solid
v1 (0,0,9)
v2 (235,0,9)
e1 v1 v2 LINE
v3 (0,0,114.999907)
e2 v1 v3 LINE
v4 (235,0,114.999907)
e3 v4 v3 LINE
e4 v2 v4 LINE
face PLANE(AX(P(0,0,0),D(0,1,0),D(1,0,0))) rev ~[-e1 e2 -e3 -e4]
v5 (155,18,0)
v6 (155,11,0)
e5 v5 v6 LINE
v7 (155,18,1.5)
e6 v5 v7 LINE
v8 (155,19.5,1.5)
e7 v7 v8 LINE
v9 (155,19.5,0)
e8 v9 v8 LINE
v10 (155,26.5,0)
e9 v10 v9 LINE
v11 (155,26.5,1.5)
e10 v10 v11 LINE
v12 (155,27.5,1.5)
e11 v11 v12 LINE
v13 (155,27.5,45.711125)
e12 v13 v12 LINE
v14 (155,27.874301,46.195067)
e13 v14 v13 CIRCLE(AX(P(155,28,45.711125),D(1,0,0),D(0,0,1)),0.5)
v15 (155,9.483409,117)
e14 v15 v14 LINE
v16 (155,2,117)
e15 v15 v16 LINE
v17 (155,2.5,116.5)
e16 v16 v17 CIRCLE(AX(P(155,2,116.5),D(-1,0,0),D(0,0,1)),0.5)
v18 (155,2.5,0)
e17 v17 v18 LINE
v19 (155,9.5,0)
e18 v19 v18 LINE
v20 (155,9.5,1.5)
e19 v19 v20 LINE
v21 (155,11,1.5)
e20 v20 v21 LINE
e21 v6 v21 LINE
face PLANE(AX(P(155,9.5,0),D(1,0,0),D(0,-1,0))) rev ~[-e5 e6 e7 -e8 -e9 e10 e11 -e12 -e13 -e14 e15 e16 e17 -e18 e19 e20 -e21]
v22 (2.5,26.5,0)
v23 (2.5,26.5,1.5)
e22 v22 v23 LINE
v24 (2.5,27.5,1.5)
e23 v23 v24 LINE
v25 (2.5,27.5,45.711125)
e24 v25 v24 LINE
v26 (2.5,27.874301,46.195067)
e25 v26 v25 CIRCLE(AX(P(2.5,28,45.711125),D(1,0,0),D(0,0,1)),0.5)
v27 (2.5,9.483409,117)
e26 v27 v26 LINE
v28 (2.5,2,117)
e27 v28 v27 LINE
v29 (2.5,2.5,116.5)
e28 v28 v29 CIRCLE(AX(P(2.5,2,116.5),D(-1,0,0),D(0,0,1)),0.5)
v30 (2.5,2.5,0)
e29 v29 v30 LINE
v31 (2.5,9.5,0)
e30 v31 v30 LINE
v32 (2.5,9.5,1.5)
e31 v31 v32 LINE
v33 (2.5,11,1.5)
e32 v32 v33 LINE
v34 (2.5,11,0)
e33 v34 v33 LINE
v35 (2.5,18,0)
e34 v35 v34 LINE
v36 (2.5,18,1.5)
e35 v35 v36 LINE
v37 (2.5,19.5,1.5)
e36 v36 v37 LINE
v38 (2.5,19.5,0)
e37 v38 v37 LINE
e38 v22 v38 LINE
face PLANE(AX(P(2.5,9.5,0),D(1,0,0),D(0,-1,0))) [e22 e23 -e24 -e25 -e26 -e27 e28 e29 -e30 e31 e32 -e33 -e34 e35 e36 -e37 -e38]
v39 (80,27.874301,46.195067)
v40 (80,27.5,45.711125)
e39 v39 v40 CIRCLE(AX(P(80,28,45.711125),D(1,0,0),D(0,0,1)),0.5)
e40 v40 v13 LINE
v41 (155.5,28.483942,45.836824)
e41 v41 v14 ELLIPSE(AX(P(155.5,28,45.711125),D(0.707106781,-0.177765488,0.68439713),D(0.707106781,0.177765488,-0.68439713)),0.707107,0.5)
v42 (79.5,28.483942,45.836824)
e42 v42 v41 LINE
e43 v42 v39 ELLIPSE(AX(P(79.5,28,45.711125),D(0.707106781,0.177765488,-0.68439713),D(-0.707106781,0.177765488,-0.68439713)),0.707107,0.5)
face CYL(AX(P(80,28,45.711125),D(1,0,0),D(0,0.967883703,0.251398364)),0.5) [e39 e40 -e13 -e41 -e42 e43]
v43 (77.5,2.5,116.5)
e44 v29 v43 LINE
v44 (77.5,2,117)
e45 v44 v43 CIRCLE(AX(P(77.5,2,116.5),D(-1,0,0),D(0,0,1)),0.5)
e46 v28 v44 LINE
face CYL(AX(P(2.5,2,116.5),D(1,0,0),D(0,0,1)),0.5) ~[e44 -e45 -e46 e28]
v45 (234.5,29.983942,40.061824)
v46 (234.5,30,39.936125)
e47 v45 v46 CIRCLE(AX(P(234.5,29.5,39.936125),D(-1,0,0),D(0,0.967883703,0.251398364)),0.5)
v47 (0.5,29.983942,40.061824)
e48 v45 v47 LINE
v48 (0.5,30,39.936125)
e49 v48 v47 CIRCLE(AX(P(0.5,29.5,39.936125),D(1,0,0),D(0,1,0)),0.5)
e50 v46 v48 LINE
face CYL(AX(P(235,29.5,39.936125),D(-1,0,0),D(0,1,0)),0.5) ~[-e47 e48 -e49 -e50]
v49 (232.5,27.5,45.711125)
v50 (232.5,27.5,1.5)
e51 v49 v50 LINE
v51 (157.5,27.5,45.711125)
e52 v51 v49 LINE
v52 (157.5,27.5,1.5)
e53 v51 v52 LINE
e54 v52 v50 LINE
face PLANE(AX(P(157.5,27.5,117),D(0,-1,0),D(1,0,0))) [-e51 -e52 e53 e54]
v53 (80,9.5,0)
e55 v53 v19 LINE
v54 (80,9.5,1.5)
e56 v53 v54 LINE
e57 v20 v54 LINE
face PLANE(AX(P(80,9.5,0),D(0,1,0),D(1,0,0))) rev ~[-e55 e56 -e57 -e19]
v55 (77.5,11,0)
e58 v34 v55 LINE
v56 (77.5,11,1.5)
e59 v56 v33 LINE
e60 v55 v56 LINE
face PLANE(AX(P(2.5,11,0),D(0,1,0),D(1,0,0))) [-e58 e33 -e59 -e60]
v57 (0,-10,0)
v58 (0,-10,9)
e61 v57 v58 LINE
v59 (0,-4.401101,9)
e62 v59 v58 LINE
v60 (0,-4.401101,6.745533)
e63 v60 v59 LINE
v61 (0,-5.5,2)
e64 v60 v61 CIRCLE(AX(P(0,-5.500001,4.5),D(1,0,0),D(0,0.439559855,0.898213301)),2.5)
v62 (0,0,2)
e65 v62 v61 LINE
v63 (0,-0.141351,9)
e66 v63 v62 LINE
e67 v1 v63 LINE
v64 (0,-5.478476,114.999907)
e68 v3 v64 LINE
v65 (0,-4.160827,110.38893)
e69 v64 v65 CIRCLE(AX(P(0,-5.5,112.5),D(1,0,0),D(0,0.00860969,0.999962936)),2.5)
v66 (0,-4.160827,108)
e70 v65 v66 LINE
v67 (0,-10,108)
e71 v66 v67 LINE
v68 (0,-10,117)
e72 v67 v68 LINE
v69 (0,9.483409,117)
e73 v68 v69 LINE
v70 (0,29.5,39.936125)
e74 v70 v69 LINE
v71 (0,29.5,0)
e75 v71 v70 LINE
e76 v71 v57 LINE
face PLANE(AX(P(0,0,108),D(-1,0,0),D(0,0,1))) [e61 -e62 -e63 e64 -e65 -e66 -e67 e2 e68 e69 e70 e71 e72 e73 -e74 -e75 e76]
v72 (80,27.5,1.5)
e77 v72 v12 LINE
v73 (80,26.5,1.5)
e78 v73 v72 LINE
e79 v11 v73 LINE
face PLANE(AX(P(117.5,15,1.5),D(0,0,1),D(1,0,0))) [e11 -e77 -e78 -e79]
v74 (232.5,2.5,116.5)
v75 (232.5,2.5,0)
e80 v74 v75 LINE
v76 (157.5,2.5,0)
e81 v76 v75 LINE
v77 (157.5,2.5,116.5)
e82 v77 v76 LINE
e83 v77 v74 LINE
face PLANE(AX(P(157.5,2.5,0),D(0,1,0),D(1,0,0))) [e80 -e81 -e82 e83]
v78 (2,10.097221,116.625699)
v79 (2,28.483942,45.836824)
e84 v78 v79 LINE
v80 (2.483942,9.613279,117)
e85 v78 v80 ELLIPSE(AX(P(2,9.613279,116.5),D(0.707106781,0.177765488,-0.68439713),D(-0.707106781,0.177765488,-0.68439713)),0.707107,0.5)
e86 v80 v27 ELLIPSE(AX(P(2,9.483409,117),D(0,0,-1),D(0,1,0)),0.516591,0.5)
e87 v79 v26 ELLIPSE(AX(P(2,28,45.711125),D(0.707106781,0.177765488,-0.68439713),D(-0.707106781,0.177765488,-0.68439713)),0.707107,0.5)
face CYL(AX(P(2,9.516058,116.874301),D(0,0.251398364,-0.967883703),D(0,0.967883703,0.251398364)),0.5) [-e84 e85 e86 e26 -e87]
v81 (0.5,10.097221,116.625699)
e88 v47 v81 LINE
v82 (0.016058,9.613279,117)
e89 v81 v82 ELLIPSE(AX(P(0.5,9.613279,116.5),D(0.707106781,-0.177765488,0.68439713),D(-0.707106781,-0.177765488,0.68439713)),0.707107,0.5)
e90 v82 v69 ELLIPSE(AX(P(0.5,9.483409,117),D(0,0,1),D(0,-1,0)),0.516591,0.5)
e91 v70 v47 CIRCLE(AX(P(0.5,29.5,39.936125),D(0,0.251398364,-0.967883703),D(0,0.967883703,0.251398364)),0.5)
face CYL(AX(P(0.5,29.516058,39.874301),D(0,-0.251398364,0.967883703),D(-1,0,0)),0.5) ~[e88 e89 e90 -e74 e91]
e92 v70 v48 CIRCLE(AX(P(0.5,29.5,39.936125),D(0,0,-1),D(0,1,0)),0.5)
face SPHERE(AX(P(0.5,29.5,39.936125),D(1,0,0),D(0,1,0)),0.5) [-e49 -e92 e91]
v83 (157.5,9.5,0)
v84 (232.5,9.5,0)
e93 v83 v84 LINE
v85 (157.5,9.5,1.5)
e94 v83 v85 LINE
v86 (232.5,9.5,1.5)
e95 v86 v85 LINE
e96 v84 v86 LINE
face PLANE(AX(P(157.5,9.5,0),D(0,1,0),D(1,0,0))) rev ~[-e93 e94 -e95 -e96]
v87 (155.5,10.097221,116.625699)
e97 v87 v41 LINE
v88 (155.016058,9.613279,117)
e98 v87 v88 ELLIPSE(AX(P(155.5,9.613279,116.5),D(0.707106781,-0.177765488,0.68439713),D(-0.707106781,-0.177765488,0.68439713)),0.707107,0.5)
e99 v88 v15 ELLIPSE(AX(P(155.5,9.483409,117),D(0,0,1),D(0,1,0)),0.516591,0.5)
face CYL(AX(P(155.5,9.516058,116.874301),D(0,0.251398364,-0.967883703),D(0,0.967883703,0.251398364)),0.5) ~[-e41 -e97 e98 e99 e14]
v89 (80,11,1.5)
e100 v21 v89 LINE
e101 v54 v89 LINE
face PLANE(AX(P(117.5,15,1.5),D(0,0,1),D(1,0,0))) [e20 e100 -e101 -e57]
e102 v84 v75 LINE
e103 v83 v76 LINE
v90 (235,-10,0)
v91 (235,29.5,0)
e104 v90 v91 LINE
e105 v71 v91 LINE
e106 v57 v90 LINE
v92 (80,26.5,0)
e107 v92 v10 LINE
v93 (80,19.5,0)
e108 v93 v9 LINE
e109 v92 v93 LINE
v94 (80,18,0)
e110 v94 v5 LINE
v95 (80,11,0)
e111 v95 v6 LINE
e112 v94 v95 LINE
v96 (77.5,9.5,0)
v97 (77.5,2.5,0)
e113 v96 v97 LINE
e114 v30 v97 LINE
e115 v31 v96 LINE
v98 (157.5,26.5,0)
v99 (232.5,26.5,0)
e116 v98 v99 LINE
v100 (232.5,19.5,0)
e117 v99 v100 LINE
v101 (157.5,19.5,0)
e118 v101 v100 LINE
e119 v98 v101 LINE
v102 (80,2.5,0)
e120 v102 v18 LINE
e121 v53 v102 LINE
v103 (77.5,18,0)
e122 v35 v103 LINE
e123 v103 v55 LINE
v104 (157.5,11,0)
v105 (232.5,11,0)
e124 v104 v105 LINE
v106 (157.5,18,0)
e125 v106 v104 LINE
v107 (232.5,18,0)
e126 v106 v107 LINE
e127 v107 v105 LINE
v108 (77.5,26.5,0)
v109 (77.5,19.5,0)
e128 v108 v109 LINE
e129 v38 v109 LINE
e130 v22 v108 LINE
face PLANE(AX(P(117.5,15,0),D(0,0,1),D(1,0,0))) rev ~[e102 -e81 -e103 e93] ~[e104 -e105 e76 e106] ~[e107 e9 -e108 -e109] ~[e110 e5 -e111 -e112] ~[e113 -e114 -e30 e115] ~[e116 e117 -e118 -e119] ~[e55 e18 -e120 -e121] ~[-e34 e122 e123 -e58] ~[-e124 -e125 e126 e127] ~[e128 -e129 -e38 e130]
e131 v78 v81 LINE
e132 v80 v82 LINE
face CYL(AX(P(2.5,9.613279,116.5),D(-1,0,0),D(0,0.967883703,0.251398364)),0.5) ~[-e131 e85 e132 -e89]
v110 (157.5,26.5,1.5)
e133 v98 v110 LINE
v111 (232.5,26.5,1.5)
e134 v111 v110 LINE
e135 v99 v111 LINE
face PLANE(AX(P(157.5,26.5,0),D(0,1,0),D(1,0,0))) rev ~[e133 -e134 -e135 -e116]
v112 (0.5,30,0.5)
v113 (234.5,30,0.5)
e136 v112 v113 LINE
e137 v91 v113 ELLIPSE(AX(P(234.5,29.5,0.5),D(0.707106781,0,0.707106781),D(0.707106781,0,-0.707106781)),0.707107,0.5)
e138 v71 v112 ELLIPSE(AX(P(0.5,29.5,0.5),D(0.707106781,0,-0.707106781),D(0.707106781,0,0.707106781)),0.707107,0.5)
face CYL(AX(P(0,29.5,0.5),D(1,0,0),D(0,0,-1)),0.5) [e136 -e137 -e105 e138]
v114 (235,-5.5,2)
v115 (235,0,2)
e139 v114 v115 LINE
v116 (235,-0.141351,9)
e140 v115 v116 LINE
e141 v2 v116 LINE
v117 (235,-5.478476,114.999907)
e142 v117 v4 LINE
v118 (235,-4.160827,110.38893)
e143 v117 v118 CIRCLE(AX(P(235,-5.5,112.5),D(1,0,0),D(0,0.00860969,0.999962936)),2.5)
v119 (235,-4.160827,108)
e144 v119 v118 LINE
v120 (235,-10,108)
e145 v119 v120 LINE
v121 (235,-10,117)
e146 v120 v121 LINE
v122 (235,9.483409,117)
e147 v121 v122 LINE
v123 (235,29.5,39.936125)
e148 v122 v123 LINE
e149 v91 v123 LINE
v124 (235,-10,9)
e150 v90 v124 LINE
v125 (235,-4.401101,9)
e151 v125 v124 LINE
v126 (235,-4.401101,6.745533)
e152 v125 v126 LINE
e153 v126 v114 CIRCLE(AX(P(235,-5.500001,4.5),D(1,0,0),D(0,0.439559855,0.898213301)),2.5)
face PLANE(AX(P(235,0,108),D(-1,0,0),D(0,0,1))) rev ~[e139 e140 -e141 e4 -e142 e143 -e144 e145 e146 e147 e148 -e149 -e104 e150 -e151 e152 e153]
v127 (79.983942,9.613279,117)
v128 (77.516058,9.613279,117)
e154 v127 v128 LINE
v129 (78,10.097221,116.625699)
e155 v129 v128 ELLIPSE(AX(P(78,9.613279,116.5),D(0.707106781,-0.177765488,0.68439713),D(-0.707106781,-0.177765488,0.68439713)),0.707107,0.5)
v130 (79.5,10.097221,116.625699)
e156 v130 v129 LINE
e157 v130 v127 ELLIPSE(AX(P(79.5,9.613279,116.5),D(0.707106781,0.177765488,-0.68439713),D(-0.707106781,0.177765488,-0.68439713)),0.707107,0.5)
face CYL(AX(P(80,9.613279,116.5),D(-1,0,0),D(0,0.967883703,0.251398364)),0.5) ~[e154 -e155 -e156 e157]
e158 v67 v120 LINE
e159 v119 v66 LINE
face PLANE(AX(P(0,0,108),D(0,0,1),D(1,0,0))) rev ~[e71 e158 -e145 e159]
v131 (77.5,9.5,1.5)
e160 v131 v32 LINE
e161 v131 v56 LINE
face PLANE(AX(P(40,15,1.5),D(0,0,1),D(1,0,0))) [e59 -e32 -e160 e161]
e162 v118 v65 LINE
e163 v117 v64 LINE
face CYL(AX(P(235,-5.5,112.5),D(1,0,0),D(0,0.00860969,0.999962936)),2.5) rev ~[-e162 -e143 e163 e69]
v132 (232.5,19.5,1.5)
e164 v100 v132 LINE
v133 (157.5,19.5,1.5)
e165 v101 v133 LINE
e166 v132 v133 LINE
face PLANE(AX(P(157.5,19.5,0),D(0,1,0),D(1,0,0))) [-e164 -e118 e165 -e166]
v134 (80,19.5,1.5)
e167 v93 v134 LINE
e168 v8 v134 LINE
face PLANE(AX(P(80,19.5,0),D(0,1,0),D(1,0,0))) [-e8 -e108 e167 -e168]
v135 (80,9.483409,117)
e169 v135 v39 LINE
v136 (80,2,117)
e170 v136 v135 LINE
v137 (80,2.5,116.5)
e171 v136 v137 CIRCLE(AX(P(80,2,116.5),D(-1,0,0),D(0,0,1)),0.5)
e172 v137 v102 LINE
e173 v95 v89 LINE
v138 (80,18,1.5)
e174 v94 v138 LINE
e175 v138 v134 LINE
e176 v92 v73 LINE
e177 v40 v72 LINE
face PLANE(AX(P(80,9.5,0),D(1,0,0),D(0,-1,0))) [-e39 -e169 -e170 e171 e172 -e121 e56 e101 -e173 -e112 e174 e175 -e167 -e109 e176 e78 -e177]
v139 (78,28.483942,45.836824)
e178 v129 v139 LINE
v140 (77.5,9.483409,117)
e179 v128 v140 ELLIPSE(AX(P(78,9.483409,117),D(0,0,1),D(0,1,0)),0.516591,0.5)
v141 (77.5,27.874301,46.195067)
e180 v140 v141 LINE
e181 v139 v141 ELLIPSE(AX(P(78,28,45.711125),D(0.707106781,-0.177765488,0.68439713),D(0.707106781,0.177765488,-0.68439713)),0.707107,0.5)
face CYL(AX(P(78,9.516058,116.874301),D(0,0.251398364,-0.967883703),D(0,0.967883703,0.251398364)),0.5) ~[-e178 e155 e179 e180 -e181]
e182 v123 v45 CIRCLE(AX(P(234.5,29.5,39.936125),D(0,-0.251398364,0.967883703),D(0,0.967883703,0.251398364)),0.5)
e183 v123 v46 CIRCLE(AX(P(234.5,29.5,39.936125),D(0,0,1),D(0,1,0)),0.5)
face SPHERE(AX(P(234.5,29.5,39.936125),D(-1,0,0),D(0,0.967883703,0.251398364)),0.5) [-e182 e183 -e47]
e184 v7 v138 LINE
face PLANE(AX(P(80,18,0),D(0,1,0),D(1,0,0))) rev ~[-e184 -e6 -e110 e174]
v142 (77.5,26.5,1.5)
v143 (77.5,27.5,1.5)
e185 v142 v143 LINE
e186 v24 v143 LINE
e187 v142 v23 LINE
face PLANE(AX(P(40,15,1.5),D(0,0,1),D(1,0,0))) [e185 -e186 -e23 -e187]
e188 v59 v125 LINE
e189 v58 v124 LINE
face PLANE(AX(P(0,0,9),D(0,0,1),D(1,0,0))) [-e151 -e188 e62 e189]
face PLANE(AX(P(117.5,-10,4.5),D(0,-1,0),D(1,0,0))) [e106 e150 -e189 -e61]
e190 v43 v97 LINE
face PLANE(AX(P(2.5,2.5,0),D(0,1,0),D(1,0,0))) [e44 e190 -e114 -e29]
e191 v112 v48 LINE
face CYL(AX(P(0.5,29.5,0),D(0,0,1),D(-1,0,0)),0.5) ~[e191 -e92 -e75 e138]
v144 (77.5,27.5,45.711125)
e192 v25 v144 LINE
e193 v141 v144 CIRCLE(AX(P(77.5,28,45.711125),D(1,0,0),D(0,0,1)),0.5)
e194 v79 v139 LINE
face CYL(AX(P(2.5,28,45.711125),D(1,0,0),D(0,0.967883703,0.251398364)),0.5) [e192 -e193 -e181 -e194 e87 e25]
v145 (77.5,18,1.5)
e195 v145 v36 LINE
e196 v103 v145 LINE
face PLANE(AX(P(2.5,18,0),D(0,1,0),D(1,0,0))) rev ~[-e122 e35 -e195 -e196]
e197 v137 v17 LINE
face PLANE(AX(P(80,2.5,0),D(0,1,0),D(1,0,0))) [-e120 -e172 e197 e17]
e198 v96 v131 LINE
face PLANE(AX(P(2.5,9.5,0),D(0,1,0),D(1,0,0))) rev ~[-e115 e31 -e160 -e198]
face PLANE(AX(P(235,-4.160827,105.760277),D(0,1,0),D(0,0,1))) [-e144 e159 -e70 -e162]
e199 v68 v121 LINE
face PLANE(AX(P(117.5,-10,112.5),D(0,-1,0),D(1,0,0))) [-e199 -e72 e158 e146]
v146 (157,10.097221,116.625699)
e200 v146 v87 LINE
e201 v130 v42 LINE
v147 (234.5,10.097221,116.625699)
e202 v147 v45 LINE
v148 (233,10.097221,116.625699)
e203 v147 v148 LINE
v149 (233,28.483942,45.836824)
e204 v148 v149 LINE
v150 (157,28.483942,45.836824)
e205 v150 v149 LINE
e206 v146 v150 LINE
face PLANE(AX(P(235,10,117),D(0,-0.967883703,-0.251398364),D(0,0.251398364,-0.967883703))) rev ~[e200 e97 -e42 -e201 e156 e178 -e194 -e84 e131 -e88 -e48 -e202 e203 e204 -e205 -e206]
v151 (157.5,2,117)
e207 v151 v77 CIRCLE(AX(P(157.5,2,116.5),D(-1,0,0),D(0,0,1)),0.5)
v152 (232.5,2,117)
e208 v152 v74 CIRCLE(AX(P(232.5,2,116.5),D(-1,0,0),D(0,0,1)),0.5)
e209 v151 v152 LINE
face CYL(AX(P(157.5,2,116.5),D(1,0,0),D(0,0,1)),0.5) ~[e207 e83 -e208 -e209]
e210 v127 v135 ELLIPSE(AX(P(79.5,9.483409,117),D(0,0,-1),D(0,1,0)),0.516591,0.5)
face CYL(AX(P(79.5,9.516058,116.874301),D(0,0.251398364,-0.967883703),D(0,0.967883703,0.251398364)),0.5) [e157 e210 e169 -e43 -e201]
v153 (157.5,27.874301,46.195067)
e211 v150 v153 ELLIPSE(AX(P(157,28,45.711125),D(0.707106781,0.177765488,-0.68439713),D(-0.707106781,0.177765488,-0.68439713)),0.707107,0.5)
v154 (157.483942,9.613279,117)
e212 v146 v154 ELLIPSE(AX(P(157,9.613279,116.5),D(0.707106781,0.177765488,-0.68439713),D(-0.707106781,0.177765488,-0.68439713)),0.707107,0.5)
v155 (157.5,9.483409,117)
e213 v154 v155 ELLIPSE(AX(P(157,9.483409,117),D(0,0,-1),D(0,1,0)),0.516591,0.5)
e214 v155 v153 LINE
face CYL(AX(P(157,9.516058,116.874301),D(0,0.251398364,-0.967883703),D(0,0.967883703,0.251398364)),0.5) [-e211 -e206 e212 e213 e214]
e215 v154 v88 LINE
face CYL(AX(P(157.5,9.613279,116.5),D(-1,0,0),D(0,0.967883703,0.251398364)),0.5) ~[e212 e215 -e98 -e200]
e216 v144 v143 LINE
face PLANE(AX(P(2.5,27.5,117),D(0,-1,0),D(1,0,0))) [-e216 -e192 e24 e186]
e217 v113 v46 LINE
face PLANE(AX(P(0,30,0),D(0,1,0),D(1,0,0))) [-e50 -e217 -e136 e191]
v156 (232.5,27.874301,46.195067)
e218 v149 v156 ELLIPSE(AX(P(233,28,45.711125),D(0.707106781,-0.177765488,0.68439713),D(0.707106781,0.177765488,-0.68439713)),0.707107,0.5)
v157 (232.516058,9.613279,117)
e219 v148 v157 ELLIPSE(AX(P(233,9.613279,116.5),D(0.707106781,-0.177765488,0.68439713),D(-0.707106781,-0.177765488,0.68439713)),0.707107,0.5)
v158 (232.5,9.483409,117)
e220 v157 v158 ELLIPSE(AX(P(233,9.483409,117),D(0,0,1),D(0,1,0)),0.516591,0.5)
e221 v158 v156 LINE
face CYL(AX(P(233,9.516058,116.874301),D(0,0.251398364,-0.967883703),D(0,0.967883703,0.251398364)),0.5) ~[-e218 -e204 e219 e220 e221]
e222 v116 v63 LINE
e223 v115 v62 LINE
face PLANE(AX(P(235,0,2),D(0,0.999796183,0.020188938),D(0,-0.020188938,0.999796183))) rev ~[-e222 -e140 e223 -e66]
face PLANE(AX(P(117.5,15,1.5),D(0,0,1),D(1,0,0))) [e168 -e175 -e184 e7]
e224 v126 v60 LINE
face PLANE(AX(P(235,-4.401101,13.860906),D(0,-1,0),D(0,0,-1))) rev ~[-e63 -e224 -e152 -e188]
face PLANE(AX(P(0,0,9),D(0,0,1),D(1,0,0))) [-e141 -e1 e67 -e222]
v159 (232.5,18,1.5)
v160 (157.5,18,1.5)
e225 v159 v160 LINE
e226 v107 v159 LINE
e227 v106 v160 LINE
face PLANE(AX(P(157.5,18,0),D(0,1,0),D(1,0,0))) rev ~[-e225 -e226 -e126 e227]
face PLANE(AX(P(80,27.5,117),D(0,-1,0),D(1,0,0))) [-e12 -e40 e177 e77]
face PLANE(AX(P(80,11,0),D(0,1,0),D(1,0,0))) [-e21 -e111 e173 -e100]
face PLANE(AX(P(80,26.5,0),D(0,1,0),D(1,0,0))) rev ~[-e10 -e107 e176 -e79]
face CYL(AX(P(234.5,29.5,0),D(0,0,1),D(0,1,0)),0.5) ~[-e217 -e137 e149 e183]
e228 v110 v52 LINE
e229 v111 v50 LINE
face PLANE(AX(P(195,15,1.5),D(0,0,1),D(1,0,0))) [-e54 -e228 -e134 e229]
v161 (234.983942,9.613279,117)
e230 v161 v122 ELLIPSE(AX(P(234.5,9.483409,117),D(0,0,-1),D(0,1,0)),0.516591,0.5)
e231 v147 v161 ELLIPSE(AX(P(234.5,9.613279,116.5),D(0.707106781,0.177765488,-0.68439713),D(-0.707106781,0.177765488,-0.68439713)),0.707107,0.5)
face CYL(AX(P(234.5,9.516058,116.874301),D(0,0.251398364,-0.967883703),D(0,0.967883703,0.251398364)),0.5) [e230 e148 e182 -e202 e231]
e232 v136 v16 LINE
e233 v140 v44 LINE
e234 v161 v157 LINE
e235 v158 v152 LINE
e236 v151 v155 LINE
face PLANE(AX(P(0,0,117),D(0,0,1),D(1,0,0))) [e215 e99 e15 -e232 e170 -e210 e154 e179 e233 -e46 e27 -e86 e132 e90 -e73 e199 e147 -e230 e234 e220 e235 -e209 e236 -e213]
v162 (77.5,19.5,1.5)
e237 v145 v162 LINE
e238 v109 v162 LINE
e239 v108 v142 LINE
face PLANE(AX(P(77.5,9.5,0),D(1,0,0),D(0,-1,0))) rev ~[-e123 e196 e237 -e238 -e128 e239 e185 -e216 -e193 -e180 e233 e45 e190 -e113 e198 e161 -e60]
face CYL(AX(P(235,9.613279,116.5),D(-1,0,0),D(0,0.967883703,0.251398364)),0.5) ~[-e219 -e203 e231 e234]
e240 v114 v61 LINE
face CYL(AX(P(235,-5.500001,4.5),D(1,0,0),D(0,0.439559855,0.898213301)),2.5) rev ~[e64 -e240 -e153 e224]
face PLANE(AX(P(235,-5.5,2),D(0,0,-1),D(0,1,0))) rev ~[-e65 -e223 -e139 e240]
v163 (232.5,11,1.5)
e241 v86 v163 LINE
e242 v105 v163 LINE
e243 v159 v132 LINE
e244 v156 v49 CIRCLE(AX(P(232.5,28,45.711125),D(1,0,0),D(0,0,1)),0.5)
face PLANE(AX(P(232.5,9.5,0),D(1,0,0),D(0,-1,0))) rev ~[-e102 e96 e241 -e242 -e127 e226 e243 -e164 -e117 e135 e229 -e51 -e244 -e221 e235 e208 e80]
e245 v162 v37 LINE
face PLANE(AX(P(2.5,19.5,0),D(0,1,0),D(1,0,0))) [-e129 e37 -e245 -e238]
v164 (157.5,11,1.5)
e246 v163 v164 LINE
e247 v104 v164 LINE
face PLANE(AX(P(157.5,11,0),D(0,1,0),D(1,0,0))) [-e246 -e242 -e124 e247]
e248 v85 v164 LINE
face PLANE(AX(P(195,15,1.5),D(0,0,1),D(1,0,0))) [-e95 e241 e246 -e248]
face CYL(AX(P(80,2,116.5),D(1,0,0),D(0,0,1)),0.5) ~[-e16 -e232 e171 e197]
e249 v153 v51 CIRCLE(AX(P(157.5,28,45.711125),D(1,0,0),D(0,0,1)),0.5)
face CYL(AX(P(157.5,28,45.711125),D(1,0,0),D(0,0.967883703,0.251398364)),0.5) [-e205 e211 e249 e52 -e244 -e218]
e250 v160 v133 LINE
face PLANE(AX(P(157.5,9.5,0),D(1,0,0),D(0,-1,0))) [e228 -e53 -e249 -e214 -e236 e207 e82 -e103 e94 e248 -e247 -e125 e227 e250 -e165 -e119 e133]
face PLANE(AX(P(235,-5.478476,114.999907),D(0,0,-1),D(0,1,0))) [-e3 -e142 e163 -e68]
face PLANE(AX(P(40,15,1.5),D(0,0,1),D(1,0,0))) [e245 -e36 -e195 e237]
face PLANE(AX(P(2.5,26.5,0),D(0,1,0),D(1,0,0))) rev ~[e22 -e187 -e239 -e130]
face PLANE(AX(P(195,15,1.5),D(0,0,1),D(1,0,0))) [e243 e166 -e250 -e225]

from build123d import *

# Parameters (mm, degrees)
BOX_W                              = 235
BOX_H                              = 30
BOX_DEPTH                          = 117
SKETCH_W                           = 75
SKETCH_H                           = 25
POCKET_DEPTH                       = 115.5
POCKET001_DEPTH                    = 300
SKETCH002_W                        = 75
SKETCH002_H                        = 7
POCKET002_DEPTH                    = 5
SKETCH002_LINEARPATTERN001_2_W     = 75
SKETCH002_LINEARPATTERN001_2_H     = 7
POCKET002_LINEARPATTERN001_2_DEPTH = 5
SKETCH002_LINEARPATTERN001_3_W     = 75
SKETCH002_LINEARPATTERN001_3_H     = 7
POCKET002_LINEARPATTERN001_3_DEPTH = 5
LINEARPATTERN002_COUNT             = 3
LINEARPATTERN002_PITCH             = 8.5
FILLET_R                           = 0.5
SKETCH003_W                        = 235
SKETCH003_H                        = 9
PAD_DEPTH                          = 10
POCKET003_DEPTH                    = 235.001


with BuildPart() as part:
    # Box → Box (new body)
    with BuildSketch(Plane.XY):
        with Locations((117.5, 15)):
            Rectangle(BOX_W, BOX_H)
    extrude(amount=BOX_DEPTH)

    # Sketch (on Face6 of BaseFeature) → Pocket (cut)
    with BuildSketch(Plane.XY.offset(117)):
        with Locations((40, 15)):
            Rectangle(SKETCH_W, SKETCH_H)
        with Locations((117.5, 15)):
            Rectangle(SKETCH_W, SKETCH_H)
        with Locations((195, 15)):
            Rectangle(SKETCH_W, SKETCH_H)
    extrude(amount=-POCKET_DEPTH, mode=Mode.SUBTRACT)

    # Sketch001 (on Face6 of Pocket) → Pocket001 (cut)
    with BuildSketch(Plane.YZ.offset(235)):
        Polygon((10, 117), (30, 40), (40, 120), align=None)
    extrude(amount=-POCKET001_DEPTH, mode=Mode.SUBTRACT)

    # Sketch002 (on Face5 of Pocket001) → Pocket002 (cut)
    with BuildSketch(Plane(origin=(0, 0, 0), x_dir=(1, 0, 0), z_dir=(0, 0, -1))):
        with Locations((40, -6)):
            Rectangle(SKETCH002_W, SKETCH002_H)
    pocket002 = extrude(amount=-POCKET002_DEPTH, mode=Mode.SUBTRACT)

    # Sketch002 LinearPattern001 2 → Pocket002 LinearPattern001 2 (cut)
    with BuildSketch(Plane(origin=(77.5, 0, 0), x_dir=(1, 0, 0), z_dir=(0, 0, -1))):
        with Locations((40, -6)):
            Rectangle(SKETCH002_LINEARPATTERN001_2_W, SKETCH002_LINEARPATTERN001_2_H)
    pocket002_linearpattern001_2 = extrude(amount=-POCKET002_LINEARPATTERN001_2_DEPTH, mode=Mode.SUBTRACT)

    # Sketch002 LinearPattern001 3 → Pocket002 LinearPattern001 3 (cut)
    with BuildSketch(Plane(origin=(155, 0, 0), x_dir=(1, 0, 0), z_dir=(0, 0, -1))):
        with Locations((40, -6)):
            Rectangle(SKETCH002_LINEARPATTERN001_3_W, SKETCH002_LINEARPATTERN001_3_H)
    pocket002_linearpattern001_3 = extrude(amount=-POCKET002_LINEARPATTERN001_3_DEPTH, mode=Mode.SUBTRACT)

    # LinearPattern002: Pocket002, Pocket002 LinearPattern001 2, Pocket002 LinearPattern001 3 ×3
    with Locations(*[(0, i * LINEARPATTERN002_PITCH, 0) for i in range(1, LINEARPATTERN002_COUNT)]):
        add(pocket002, mode=Mode.SUBTRACT)
        add(pocket002_linearpattern001_2, mode=Mode.SUBTRACT)
        add(pocket002_linearpattern001_3, mode=Mode.SUBTRACT)

    # Fillet
    fillet_edges = [part.edges().sort_by_distance(p)[0] for p in [
        (117.5, 30, 40),
        (117.5, 30, 0),
        (0, 30, 20),
        (0, 20, 78.5),
        (2.5, 18.75, 83.3125),
        (40, 27.5, 49.625),
        (77.5, 18.75, 83.3125),
        (80, 18.75, 83.3125),
        (117.5, 27.5, 49.625),
        (155, 18.75, 83.3125),
        (157.5, 18.75, 83.3125),
        (195, 27.5, 49.625),
        (232.5, 18.75, 83.3125),
        (235, 20, 78.5),
        (235, 30, 20),
        (1.25, 10, 117),
        (78.75, 10, 117),
        (156.25, 10, 117),
        (233.75, 10, 117),
        (195, 2.5, 117),
        (40, 2.5, 117),
        (117.5, 2.5, 117),
    ]]
    fillet(fillet_edges, radius=FILLET_R)

    # Sketch003 (on Face4 of Fillet) → Pad (join)
    with BuildSketch(Plane.XZ):
        with Locations((117.5, 112.5)):
            Rectangle(SKETCH003_W, SKETCH003_H)
        with Locations((117.5, 4.5)):
            Rectangle(SKETCH003_W, SKETCH003_H)
    extrude(amount=PAD_DEPTH)

    # Sketch004 (on Face76 of Pad) → Pocket003 (cut, through all)
    with BuildSketch(Plane.YZ.offset(235)):
        with BuildLine():
            ThreePointArc((-5.478476, 114.999907), (-7.903779, 111.813088), (-4.160827, 110.38893))
            Line((-4.160827, 105.760277), (-4.160827, 110.38893))
            Line((0, 105.760277), (-4.160827, 105.760277))
            Line((0, 114.999907), (0, 105.760277))
            Line((-5.478476, 114.999907), (0, 114.999907))
        make_face()
        with BuildLine():
            ThreePointArc((-4.401101, 6.745533), (-7.935553, 5.063989), (-5.5, 2))
            Line((-5.5, 2), (0, 2))
            Line((0, 2), (-0.240678, 13.918851))
            Line((-0.240678, 13.918851), (-4.401101, 13.860906))
            Line((-4.401101, 13.860906), (-4.401101, 6.745533))
        make_face()
    extrude(amount=-POCKET003_DEPTH, mode=Mode.SUBTRACT)


solid = part.part
